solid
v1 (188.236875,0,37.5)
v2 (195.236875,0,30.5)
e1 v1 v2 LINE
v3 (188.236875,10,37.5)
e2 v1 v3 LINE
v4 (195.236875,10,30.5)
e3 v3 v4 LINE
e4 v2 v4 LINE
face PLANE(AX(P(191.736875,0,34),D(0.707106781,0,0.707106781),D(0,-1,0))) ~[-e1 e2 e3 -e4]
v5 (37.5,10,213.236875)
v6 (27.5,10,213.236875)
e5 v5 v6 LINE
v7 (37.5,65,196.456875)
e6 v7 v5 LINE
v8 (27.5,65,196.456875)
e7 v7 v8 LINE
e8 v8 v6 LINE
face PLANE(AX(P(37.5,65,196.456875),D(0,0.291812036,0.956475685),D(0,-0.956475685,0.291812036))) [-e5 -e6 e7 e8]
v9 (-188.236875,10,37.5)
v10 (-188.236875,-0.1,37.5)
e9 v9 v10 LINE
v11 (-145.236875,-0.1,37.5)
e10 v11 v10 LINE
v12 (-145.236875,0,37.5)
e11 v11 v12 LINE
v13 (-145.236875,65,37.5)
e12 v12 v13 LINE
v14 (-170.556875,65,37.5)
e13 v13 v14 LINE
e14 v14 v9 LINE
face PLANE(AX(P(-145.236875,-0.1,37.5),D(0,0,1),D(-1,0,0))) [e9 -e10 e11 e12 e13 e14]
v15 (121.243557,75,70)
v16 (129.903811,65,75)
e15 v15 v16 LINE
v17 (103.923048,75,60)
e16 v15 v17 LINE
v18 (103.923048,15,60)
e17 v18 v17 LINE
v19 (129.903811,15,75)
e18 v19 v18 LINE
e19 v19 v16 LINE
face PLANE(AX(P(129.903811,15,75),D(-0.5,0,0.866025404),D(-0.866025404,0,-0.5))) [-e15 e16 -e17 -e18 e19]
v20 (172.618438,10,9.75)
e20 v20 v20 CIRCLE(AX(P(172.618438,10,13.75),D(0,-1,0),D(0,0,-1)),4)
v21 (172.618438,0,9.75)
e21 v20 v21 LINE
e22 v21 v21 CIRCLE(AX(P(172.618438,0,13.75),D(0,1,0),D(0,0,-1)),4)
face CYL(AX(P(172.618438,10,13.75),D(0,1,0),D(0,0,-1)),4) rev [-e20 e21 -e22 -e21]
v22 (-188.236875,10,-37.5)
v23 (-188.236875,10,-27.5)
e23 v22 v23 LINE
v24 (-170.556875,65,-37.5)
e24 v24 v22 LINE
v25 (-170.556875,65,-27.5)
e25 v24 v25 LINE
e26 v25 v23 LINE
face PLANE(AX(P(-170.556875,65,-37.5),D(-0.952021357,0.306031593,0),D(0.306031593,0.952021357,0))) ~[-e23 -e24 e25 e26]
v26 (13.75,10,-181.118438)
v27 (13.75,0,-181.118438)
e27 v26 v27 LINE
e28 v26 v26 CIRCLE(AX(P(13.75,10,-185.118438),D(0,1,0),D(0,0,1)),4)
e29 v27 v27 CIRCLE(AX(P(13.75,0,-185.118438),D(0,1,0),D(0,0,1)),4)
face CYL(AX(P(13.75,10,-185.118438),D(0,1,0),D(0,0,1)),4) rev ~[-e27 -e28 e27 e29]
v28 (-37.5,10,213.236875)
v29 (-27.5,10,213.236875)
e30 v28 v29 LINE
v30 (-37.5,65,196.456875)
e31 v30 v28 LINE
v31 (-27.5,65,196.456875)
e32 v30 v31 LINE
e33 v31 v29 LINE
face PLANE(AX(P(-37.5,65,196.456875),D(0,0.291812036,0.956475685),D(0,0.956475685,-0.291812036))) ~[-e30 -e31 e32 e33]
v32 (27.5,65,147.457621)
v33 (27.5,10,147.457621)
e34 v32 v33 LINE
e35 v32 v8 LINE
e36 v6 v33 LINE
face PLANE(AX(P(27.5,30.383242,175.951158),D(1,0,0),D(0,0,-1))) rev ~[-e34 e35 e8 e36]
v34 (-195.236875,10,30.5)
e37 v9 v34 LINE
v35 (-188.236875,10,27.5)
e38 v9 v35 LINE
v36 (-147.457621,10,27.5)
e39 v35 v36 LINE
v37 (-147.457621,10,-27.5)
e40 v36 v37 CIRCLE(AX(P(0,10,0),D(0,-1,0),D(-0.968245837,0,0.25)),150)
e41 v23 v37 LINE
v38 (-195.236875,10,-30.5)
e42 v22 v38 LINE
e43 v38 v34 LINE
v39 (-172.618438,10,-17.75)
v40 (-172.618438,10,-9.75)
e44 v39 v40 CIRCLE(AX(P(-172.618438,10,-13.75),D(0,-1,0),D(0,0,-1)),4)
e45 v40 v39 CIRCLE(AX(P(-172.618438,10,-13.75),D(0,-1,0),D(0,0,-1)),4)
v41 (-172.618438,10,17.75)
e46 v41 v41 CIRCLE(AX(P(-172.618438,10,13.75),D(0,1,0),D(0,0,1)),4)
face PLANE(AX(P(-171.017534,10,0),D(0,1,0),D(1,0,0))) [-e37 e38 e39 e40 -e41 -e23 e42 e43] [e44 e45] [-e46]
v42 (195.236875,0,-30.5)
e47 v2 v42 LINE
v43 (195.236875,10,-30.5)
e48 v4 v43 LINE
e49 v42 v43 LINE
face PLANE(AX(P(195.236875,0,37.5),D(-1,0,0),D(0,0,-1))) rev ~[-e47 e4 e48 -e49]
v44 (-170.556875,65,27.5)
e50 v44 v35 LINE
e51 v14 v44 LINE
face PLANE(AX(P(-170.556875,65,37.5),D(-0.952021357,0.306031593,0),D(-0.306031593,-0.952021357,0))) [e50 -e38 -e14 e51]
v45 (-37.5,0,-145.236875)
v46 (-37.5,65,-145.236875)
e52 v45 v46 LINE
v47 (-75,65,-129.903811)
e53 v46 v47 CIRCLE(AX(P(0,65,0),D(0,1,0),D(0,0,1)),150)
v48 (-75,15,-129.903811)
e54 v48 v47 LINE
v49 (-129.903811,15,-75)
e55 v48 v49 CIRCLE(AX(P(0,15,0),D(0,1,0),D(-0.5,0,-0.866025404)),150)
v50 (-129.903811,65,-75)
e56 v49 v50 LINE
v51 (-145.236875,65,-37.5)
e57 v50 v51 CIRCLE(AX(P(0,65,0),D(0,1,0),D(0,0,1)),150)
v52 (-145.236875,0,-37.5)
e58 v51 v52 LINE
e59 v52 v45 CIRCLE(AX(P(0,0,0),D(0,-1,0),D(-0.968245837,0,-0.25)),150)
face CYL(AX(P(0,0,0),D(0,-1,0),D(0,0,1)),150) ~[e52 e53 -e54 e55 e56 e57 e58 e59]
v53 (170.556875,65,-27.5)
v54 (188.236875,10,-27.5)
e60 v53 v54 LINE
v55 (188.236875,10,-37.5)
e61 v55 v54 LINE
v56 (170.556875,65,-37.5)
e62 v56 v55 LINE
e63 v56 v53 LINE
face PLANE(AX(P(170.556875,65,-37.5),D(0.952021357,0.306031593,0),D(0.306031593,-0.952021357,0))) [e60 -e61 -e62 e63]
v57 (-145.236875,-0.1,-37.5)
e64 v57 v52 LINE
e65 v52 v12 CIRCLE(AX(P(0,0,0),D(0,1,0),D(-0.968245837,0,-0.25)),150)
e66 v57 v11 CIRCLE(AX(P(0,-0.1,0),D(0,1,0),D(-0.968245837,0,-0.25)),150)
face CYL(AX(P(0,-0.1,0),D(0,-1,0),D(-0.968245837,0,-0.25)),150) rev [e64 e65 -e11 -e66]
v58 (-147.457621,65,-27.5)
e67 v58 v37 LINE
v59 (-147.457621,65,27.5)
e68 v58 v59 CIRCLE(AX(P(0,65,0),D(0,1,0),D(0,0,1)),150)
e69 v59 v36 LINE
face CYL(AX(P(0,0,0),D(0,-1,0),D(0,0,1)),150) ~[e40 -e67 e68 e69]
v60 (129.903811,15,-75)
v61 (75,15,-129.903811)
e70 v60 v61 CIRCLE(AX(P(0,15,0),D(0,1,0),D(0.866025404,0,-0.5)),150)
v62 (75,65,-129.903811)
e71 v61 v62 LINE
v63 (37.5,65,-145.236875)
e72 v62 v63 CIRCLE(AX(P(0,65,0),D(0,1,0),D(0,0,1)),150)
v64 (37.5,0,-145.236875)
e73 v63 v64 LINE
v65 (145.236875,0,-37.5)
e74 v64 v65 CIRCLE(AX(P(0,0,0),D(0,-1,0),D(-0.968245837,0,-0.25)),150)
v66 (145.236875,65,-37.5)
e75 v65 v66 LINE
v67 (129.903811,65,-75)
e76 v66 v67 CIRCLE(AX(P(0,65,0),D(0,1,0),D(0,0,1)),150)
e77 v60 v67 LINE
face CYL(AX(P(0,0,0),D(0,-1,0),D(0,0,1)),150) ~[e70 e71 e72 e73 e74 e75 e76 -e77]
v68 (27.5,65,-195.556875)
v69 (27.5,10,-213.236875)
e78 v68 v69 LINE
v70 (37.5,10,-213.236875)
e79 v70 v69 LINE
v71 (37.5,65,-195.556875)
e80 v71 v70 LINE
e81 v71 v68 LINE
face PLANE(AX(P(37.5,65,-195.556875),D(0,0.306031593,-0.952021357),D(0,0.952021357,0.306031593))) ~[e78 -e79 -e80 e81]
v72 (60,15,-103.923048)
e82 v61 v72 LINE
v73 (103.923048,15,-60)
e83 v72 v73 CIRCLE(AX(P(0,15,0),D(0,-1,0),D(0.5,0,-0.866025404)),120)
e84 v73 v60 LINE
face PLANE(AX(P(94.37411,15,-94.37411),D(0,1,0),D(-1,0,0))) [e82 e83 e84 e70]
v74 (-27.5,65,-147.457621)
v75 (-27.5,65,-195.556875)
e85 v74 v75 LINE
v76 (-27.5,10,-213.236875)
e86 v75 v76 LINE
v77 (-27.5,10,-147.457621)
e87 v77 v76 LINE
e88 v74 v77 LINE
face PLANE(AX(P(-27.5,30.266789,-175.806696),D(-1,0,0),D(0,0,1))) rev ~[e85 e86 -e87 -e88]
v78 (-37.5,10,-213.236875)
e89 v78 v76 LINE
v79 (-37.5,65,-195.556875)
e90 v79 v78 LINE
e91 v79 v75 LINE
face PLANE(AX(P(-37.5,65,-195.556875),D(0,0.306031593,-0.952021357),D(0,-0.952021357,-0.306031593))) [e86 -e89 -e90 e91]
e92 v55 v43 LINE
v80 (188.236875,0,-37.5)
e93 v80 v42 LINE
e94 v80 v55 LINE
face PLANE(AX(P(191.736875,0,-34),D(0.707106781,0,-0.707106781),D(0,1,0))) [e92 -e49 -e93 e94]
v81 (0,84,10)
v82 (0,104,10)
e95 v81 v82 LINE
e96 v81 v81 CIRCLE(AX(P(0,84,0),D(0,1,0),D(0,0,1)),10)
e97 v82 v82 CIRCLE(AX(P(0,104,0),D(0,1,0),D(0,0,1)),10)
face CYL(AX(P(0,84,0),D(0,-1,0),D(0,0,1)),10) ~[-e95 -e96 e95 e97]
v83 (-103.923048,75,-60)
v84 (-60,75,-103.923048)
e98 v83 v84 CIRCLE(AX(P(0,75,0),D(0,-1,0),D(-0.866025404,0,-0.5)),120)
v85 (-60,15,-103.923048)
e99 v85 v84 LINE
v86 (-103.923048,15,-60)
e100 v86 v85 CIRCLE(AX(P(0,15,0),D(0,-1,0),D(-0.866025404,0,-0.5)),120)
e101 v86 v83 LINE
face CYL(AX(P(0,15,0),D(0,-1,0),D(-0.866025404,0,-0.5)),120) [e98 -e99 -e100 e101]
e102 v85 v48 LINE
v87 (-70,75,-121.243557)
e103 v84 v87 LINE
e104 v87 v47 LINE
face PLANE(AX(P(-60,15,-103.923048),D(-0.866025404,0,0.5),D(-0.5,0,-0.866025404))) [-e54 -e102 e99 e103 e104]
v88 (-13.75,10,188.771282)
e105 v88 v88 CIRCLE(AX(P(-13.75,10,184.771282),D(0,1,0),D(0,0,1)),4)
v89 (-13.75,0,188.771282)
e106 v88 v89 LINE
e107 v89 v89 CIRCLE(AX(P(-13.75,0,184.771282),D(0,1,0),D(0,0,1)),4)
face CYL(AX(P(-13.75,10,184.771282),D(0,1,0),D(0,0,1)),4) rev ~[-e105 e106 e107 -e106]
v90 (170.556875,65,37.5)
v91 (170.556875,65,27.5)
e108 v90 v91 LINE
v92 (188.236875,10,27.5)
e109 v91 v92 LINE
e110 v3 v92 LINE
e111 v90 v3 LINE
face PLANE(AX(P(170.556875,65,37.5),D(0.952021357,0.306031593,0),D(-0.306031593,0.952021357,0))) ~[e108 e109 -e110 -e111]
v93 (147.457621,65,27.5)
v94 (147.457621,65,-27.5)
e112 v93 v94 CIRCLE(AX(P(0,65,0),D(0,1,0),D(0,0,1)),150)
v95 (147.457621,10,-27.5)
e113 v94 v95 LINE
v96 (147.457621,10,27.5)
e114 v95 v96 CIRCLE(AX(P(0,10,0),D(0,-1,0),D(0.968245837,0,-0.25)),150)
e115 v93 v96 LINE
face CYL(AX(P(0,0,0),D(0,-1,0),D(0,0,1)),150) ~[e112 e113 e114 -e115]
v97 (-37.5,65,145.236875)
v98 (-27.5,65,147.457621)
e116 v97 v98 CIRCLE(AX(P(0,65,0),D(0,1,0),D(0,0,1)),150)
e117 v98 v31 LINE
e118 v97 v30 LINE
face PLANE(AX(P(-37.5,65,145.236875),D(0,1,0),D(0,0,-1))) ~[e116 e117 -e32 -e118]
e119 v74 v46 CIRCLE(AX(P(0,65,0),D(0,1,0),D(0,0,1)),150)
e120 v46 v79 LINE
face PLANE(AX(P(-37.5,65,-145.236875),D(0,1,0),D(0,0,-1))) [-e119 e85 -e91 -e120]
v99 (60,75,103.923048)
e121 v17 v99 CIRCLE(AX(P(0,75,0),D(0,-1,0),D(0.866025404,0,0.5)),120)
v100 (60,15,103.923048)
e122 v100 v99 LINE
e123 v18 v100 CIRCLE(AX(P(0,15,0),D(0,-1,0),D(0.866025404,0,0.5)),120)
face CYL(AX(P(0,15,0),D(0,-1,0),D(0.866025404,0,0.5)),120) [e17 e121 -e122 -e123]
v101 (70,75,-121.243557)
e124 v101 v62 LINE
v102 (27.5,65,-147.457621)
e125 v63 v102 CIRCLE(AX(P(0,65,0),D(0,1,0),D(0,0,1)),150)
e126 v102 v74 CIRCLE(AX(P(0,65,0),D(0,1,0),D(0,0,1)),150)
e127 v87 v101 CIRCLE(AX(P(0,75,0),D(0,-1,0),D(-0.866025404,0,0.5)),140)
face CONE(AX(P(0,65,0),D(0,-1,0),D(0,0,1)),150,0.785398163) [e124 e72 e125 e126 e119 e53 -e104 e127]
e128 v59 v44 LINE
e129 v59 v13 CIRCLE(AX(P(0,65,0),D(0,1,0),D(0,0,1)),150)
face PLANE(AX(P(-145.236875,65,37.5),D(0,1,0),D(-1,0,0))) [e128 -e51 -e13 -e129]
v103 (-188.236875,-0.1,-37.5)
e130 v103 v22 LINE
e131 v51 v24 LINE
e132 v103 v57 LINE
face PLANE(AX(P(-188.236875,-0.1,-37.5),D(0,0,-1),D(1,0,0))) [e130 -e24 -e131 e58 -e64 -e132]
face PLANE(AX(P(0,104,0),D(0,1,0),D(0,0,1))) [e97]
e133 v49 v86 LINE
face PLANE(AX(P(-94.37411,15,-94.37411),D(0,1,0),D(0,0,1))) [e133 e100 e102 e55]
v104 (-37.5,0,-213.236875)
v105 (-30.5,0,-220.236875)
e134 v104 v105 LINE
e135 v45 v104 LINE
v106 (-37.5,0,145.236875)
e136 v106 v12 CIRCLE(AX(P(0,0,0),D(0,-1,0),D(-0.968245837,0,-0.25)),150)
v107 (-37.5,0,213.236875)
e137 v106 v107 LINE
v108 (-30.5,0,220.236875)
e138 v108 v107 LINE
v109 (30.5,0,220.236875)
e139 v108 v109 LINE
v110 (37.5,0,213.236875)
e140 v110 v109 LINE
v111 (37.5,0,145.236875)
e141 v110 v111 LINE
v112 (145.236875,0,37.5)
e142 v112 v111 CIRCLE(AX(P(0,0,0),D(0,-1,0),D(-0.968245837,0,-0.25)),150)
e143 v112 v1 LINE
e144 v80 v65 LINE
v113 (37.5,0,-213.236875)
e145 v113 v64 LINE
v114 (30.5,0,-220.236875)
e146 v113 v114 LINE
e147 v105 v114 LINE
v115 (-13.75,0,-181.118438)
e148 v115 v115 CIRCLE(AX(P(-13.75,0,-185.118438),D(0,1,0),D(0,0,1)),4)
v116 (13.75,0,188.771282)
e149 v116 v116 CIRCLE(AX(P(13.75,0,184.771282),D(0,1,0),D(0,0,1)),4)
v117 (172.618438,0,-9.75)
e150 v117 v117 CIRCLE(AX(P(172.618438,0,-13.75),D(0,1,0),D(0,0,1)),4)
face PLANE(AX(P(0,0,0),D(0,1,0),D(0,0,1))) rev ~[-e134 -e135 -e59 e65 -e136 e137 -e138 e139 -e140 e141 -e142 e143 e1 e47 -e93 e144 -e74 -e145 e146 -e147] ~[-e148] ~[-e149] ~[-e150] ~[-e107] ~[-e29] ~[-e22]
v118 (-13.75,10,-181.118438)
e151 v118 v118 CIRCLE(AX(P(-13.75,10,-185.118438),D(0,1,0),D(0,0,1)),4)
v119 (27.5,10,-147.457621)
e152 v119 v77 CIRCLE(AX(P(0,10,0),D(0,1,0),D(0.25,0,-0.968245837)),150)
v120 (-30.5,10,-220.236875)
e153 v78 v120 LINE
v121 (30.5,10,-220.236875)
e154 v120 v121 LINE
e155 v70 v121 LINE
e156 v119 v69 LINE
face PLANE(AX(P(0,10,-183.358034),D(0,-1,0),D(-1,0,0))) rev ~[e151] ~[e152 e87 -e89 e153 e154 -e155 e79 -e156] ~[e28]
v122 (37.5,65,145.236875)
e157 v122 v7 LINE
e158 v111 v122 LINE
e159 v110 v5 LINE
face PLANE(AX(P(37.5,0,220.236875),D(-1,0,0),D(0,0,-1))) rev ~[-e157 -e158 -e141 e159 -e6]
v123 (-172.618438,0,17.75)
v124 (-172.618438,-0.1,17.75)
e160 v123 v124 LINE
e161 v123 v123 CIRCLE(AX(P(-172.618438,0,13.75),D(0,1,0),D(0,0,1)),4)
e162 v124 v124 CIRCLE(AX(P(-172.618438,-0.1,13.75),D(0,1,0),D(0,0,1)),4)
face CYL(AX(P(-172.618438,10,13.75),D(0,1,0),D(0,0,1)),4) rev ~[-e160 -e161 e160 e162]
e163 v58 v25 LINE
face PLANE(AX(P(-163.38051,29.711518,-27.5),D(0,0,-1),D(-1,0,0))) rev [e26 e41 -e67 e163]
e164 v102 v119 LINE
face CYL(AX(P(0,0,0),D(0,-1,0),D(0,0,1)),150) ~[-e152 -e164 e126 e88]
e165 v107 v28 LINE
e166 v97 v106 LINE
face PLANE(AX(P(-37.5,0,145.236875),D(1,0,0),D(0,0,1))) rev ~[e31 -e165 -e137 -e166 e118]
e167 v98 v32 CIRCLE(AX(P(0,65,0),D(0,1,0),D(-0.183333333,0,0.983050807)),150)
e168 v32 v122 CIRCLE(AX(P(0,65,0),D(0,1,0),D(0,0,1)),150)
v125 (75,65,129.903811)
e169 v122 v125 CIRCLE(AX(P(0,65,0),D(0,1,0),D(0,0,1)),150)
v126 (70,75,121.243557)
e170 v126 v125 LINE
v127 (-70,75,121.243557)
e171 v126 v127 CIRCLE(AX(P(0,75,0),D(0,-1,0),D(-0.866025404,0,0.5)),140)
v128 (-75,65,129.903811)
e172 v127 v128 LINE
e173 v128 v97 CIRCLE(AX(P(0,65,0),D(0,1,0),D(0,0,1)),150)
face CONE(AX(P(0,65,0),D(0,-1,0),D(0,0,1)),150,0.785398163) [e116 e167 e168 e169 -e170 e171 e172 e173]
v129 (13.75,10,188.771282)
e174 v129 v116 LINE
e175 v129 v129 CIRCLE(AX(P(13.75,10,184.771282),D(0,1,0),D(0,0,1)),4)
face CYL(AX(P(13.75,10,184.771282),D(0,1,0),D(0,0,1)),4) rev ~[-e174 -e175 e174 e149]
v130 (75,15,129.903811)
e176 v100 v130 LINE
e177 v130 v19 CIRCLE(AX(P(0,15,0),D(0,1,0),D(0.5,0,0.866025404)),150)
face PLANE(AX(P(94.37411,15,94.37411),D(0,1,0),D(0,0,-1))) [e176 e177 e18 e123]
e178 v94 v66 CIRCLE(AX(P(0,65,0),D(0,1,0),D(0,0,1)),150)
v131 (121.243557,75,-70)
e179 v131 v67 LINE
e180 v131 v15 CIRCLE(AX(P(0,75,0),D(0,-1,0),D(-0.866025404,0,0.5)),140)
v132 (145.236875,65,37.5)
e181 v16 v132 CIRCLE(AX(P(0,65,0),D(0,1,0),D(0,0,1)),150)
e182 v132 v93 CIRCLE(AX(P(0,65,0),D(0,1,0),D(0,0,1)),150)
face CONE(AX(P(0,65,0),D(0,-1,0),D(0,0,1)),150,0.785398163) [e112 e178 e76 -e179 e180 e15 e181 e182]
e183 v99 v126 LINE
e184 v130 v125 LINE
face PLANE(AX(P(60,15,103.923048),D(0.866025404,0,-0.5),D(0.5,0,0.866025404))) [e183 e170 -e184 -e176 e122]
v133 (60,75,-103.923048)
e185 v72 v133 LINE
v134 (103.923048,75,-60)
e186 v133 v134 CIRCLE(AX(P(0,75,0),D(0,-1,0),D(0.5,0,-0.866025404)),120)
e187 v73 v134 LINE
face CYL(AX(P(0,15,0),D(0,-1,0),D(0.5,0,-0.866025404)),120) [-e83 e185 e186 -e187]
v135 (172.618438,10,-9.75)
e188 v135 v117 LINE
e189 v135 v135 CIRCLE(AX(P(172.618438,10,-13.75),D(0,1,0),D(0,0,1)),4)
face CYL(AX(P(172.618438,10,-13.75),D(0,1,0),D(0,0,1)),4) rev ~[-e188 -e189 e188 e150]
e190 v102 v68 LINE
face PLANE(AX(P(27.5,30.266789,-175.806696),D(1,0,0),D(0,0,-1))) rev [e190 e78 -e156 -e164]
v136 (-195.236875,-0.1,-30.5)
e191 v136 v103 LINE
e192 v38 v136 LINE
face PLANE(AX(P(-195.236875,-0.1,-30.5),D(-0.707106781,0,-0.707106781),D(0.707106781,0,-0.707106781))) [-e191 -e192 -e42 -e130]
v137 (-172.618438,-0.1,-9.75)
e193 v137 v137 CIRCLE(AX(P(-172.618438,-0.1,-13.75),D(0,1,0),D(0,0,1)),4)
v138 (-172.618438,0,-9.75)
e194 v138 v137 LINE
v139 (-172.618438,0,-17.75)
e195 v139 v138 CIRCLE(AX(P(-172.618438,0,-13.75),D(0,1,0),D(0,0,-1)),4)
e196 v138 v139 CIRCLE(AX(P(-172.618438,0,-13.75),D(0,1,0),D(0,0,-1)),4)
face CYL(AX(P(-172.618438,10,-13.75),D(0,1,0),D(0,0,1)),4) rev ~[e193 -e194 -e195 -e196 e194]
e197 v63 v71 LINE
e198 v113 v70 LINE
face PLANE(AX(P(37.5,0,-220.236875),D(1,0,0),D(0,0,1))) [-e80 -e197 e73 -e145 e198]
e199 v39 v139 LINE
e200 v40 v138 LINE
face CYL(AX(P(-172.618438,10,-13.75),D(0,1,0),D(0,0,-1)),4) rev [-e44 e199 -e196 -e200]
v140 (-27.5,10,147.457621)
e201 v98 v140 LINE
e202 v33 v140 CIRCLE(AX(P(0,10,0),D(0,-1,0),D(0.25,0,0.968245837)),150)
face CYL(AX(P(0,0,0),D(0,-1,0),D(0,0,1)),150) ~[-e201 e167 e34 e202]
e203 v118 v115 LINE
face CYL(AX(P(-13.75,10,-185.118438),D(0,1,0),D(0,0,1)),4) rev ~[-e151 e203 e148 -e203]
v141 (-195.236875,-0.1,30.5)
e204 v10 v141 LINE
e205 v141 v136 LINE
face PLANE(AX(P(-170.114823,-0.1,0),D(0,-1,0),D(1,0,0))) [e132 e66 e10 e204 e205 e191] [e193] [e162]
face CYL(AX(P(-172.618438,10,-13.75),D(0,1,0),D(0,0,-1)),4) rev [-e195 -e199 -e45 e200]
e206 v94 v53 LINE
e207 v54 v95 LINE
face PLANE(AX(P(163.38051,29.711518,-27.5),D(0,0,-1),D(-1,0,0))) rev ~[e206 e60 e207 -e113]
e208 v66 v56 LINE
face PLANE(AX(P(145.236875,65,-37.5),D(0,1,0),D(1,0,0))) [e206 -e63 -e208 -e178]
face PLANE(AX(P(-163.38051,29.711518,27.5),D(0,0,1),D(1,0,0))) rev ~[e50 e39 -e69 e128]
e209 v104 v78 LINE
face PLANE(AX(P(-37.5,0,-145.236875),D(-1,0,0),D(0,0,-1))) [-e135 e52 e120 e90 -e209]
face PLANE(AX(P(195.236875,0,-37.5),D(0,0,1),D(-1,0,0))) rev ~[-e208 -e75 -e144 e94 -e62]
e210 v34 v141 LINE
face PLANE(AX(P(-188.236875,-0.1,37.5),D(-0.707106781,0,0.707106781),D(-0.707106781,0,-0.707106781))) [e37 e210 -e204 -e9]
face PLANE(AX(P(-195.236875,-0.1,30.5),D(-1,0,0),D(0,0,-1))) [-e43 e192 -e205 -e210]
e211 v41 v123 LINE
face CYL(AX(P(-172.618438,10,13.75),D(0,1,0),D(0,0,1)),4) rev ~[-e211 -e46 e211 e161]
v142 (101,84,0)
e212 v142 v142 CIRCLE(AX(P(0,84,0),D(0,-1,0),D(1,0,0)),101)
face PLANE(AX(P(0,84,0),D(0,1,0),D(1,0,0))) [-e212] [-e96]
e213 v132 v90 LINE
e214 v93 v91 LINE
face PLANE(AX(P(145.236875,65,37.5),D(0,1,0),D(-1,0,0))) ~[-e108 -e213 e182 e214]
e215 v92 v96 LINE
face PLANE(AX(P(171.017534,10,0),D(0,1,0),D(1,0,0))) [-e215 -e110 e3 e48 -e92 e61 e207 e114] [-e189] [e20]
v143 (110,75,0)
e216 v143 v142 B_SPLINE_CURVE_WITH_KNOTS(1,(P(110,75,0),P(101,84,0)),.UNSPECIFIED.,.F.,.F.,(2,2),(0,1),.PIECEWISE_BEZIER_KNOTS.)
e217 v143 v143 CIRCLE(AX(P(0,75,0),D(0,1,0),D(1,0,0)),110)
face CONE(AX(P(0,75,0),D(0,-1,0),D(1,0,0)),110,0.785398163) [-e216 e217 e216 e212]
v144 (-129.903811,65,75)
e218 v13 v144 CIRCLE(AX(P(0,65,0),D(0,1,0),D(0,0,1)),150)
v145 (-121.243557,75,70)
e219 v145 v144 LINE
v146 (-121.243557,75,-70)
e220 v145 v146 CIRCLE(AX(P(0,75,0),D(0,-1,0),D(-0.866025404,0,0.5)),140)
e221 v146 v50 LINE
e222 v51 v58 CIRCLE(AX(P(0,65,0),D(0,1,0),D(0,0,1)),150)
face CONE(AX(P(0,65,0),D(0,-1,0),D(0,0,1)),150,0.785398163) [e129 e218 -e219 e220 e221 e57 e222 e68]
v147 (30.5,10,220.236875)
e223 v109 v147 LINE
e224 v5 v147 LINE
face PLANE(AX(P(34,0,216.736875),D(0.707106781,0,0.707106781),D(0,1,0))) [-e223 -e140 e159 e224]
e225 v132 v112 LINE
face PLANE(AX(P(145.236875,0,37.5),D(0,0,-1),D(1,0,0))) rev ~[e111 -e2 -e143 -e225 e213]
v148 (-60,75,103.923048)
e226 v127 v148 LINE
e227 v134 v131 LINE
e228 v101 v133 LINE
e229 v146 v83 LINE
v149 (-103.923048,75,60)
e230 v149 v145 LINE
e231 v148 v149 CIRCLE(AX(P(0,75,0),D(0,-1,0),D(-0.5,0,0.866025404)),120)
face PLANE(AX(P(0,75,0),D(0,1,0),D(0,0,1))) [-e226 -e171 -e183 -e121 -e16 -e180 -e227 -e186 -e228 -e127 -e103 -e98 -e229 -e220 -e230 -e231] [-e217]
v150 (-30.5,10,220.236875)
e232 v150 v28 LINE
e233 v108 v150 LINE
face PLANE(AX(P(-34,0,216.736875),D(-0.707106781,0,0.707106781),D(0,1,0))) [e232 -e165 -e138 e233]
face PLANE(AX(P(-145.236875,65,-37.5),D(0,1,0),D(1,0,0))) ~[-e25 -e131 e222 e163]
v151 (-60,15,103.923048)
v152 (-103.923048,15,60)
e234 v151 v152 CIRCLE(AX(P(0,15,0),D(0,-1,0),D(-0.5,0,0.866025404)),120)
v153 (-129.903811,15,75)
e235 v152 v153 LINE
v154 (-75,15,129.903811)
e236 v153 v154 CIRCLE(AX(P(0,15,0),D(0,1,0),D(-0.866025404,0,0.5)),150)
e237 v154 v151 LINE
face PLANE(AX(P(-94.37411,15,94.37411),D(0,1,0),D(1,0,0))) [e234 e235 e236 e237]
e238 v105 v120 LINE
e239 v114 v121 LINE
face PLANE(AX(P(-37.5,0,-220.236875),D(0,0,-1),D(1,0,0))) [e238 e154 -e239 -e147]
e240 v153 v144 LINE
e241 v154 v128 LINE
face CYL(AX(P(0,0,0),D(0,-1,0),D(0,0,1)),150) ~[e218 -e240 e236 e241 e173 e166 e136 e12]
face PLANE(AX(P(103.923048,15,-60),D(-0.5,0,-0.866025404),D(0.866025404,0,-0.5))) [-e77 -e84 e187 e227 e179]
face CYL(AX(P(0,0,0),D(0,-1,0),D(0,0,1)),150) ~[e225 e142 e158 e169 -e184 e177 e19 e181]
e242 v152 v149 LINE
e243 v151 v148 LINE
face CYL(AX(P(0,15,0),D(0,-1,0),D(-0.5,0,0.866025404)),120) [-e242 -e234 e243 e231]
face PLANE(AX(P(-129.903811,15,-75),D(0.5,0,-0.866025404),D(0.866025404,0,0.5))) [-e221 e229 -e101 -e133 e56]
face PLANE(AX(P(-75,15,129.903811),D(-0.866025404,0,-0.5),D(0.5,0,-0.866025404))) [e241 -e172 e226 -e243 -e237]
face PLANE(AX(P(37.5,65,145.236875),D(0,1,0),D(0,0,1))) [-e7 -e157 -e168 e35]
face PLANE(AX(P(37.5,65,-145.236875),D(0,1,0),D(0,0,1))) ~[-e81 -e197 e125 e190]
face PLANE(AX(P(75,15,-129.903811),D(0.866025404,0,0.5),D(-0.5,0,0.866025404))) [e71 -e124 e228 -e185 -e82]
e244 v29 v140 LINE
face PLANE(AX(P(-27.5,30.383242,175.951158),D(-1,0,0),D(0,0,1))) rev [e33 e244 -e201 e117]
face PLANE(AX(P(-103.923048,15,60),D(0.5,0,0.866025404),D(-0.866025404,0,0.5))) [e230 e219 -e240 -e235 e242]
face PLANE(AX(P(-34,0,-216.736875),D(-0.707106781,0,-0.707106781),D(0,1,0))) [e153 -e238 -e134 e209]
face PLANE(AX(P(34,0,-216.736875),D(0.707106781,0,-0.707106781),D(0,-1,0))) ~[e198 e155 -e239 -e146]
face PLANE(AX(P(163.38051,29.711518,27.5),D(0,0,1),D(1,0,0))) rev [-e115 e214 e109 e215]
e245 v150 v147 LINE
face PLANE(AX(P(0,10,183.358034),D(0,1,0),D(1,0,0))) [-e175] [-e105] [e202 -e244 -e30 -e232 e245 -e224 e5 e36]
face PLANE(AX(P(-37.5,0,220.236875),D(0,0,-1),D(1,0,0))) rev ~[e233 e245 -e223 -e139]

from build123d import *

# Parameters (mm, degrees)
SKETCH1_R            = 150
BOSS_EXTRUDE1_DEPTH  = 75
CHAMFER1_SIZE        = 10
BOSS_EXTRUDE2_START  = -75
BOSS_EXTRUDE2_DEPTH  = 10
CHAMFER2_SIZE        = 7
BOSS_EXTRUDE3_DEPTH  = 10
SKETCH7_R            = 4
CUT_EXTRUDE1_DEPTH   = 255.641782801
BOSS_EXTRUDE4_START  = 0.1
BOSS_EXTRUDE4_DEPTH  = 0.1
BOSS_EXTRUDE8_START  = -75
BOSS_EXTRUDE8_DEPTH  = 10
CHAMFER3_SIZE        = 7
BOSS_EXTRUDE9_DEPTH  = 10
SKETCH16_R           = 4
CUT_EXTRUDE2_DEPTH   = 302.407894506
CHAMFER4_SIZE        = 7
BOSS_EXTRUDE10_DEPTH = 10
SKETCH19_R           = 4
CUT_EXTRUDE3_DEPTH   = 302.407894506
BOSS_EXTRUDE11_START = -75
BOSS_EXTRUDE11_DEPTH = 10
CHAMFER5_SIZE        = 7
BOSS_EXTRUDE12_DEPTH = 10
SKETCH22_R           = 4
CUT_EXTRUDE4_DEPTH   = 302.407894506
CUT_EXTRUDE5_START   = -60
CUT_EXTRUDE5_DEPTH   = 60
CIRPATTERN31_COUNT   = 4
SKETCH24_R           = 110
BOSS_EXTRUDE13_DEPTH = 9
BOSS_EXTRUDE13_TAPER = 45
SKETCH25_R           = 10
BOSS_EXTRUDE14_DEPTH = 20
SKETCH28_R           = 4
CUT_EXTRUDE6_DEPTH   = 309.962325973


with BuildPart() as part:
    # Sketch1 → Boss-Extrude1 (new body)
    with BuildSketch(Plane(origin=(0, 0, 0), x_dir=(1, 0, 0), z_dir=(0, 1, 0))):
        with Locations(Location((0, 0, 0), (0, 0, 270))):
            Circle(SKETCH1_R)
    extrude(amount=BOSS_EXTRUDE1_DEPTH)

    # Chamfer1
    chamfer1_edges = [part.edges().sort_by_distance(p)[0] for p in [
        (0, 75, -150),
    ]]
    chamfer(chamfer1_edges, length=CHAMFER1_SIZE)

    # Sketch2 → Boss-Extrude2 (add)
    with BuildSketch(Plane(origin=(0, 75, 0), x_dir=(1, 0, 0), z_dir=(0, 1, 0)).offset(BOSS_EXTRUDE2_START)):
        with BuildLine():
            Line((-145.236875483, 37.5), (-195.236875483, 37.5))
            Line((-195.236875483, 37.5), (-195.236875483, -37.5))
            Line((-195.236875483, -37.5), (-145.236875483, -37.5))
            ThreePointArc((-145.236875483, -37.5), (-150, 0), (-145.236875483, 37.5))
        make_face()
    extrude(amount=BOSS_EXTRUDE2_DEPTH)

    # Chamfer2
    chamfer2_edges = [part.edges().sort_by_distance(p)[0] for p in [
        (-195.236875483, 5, 37.5),
        (-195.236875483, 5, -37.5),
    ]]
    chamfer(chamfer2_edges, length=CHAMFER2_SIZE)

    # Sketch6 → Boss-Extrude3 (add)
    with BuildSketch(Plane.XY.offset(37.5)):
        Polygon((-145.236875483, 0), (-145.236875483, 65), (-170.556875483, 65), (-188.236875483, 10), (-188.236875483, 0), align=None)
    boss_extrude3 = extrude(amount=-BOSS_EXTRUDE3_DEPTH)

    # Sketch7 → Cut-Extrude1 (cut, through all)
    with BuildSketch(Plane(origin=(0, 10, 0), x_dir=(1, 0, 0), z_dir=(0, 1, 0))):
        with Locations(Location((-172.618437741, -13.75, 0), (0, 0, 270))):
            Circle(SKETCH7_R)
    cut_extrude1 = extrude(amount=-CUT_EXTRUDE1_DEPTH, mode=Mode.SUBTRACT)

    # Mirror2: Boss-Extrude3, Cut-Extrude1 across plane
    add(boss_extrude3.mirror(Plane.XY))
    add(cut_extrude1.mirror(Plane.XY), mode=Mode.SUBTRACT)

    # Sketch10 → Boss-Extrude4 (add)
    with BuildSketch(Plane.XZ.offset(BOSS_EXTRUDE4_START)):
        with BuildLine():
            Line((-145.236875483, 37.5), (-188.236875483, 37.5))
            Line((-188.236875483, 37.5), (-195.236875483, 30.5))
            Line((-195.236875483, 30.5), (-195.236875483, -30.5))
            Line((-195.236875483, -30.5), (-188.236875483, -37.5))
            Line((-188.236875483, -37.5), (-145.236875483, -37.5))
            ThreePointArc((-145.236875483, -37.5), (-150, 0), (-145.236875483, 37.5))
        make_face()
    extrude(amount=-BOSS_EXTRUDE4_DEPTH)

    # Sketch11 → Boss-Extrude8 (add)
    with BuildSketch(Plane(origin=(0, 75, 0), x_dir=(1, 0, 0), z_dir=(0, 1, 0)).offset(BOSS_EXTRUDE8_START)):
        with BuildLine():
            Line((37.5, 220.236875483), (37.5, 145.236875483))
            ThreePointArc((37.5, 145.236875483), (0, 150), (-37.5, 145.236875483))
            Line((-37.5, 145.236875483), (-37.5, 220.236875483))
            Line((-37.5, 220.236875483), (37.5, 220.236875483))
        make_face()
        with BuildLine():
            Line((37.5, -220.236875483), (37.5, -145.236875483))
            ThreePointArc((37.5, -145.236875483), (0, -150), (-37.5, -145.236875483))
            Line((-37.5, -145.236875483), (-37.5, -220.236875483))
            Line((-37.5, -220.236875483), (37.5, -220.236875483))
        make_face()
    extrude(amount=BOSS_EXTRUDE8_DEPTH)

    # Chamfer3
    chamfer3_edges = [part.edges().sort_by_distance(p)[0] for p in [
        (37.5, 5, -220.236875483),
        (-37.5, 5, -220.236875483),
    ]]
    chamfer(chamfer3_edges, length=CHAMFER3_SIZE)

    # Sketch14 → Boss-Extrude9 (add)
    with BuildSketch(Plane.ZY.offset(37.5)):
        Polygon((-145.236875483, 0), (-145.236875483, 65), (-195.556875483, 65), (-213.236875483, 10), (-213.236875483, 0), align=None)
    boss_extrude9 = extrude(amount=-BOSS_EXTRUDE9_DEPTH)

    # Mirror3: Boss-Extrude9 across plane
    add(boss_extrude9.mirror(Plane.ZY))

    # Sketch16 → Cut-Extrude2 (cut, through all)
    with BuildSketch(Plane(origin=(0, 10, 0), x_dir=(1, 0, 0), z_dir=(0, 1, 0))):
        with Locations(Location((-13.75, 185.118437741, 0), (0, 0, 270))):
            Circle(SKETCH16_R)
        with Locations(Location((13.75, 185.118437741, 0), (0, 0, 270))):
            Circle(SKETCH16_R)
    extrude(amount=-CUT_EXTRUDE2_DEPTH, mode=Mode.SUBTRACT)

    # Chamfer4
    chamfer4_edges = [part.edges().sort_by_distance(p)[0] for p in [
        (-37.5, 5, 220.236875483),
        (37.5, 5, 220.236875483),
    ]]
    chamfer(chamfer4_edges, length=CHAMFER4_SIZE)

    # Sketch18 → Boss-Extrude10 (add)
    with BuildSketch(Plane(origin=(37.5, 0, 0), x_dir=(0, 0, -1), z_dir=(1, 0, 0))):
        Polygon((-145.236875483, 0), (-145.236875483, 65), (-196.456875483, 65), (-213.236875483, 10), (-213.236875483, 0), align=None)
    boss_extrude10 = extrude(amount=-BOSS_EXTRUDE10_DEPTH)

    # Sketch19 → Cut-Extrude3 (cut, through all)
    with BuildSketch(Plane(origin=(0, 10, 0), x_dir=(1, 0, 0), z_dir=(0, 1, 0))):
        with Locations(Location((13.75, -184.771281751, 0), (0, 0, 270))):
            Circle(SKETCH19_R)
        with Locations(Location((-13.75, -184.771281751, 0), (0, 0, 270))):
            Circle(SKETCH19_R)
    extrude(amount=-CUT_EXTRUDE3_DEPTH, mode=Mode.SUBTRACT)

    # Mirror4: Boss-Extrude10 across plane
    add(boss_extrude10.mirror(Plane(origin=(0, 0, 0), x_dir=(0, 0, 1), z_dir=(1, 0, 0))))

    # Sketch20 → Boss-Extrude11 (add)
    with BuildSketch(Plane(origin=(0, 75, 0), x_dir=(1, 0, 0), z_dir=(0, 1, 0)).offset(BOSS_EXTRUDE11_START)):
        with BuildLine():
            Line((195.236875483, 37.5), (145.236875483, 37.5))
            ThreePointArc((145.236875483, 37.5), (150, 0), (145.236875483, -37.5))
            Line((145.236875483, -37.5), (195.236875483, -37.5))
            Line((195.236875483, -37.5), (195.236875483, 37.5))
        make_face()
    extrude(amount=BOSS_EXTRUDE11_DEPTH)

    # Chamfer5
    chamfer5_edges = [part.edges().sort_by_distance(p)[0] for p in [
        (195.236875483, 5, 37.5),
        (195.236875483, 5, -37.5),
    ]]
    chamfer(chamfer5_edges, length=CHAMFER5_SIZE)

    # Sketch21 → Boss-Extrude12 (add)
    with BuildSketch(Plane(origin=(0, 0, -37.5), x_dir=(-1, 0, 0), z_dir=(0, 0, -1))):
        Polygon((-145.236875483, 0), (-145.236875483, 65), (-170.556875483, 65), (-188.236875483, 10), (-188.236875483, 0), align=None)
    boss_extrude12 = extrude(amount=-BOSS_EXTRUDE12_DEPTH)

    # Sketch22 → Cut-Extrude4 (cut, through all)
    with BuildSketch(Plane(origin=(0, 10, 0), x_dir=(1, 0, 0), z_dir=(0, 1, 0))):
        with Locations(Location((172.618437741, 13.75, 0), (0, 0, 270))):
            Circle(SKETCH22_R)
    cut_extrude4 = extrude(amount=-CUT_EXTRUDE4_DEPTH, mode=Mode.SUBTRACT)

    # Mirror5: Boss-Extrude12, Cut-Extrude4 across plane
    add(boss_extrude12.mirror(Plane(origin=(0, 0, 0), x_dir=(1, 0, 0), z_dir=(0, 0, -1))))
    add(cut_extrude4.mirror(Plane(origin=(0, 0, 0), x_dir=(1, 0, 0), z_dir=(0, 0, -1))), mode=Mode.SUBTRACT)

    # Sketch23 → Cut-Extrude5 (cut)
    with BuildSketch(Plane(origin=(0, 75, 0), x_dir=(1, 0, 0), z_dir=(0, 1, 0)).offset(CUT_EXTRUDE5_START)):
        with BuildLine():
            Line((-103.923048454, -60), (-129.903810568, -75))
            ThreePointArc((-129.903810568, -75), (-106.066017178, -106.066017178), (-75, -129.903810568))
            Line((-75, -129.903810568), (-60, -103.923048454))
            ThreePointArc((-60, -103.923048454), (-84.852813742, -84.852813742), (-103.923048454, -60))
        make_face()
    cut_extrude5 = extrude(amount=CUT_EXTRUDE5_DEPTH, mode=Mode.SUBTRACT)

    # CirPattern31: Cut-Extrude5 ×4 about axis
    cirpattern31_axis = Axis((0, 75, 0), (0, 1, 0))
    for i in range(1, CIRPATTERN31_COUNT):
        add(cut_extrude5.rotate(cirpattern31_axis, i * 360 / CIRPATTERN31_COUNT), mode=Mode.SUBTRACT)

    # Sketch24 → Boss-Extrude13 (add)
    with BuildSketch(Plane(origin=(0, 75, 0), x_dir=(1, 0, 0), z_dir=(0, 1, 0))):
        Circle(SKETCH24_R)
    extrude(amount=BOSS_EXTRUDE13_DEPTH, taper=BOSS_EXTRUDE13_TAPER)

    # Sketch25 → Boss-Extrude14 (add)
    with BuildSketch(Plane(origin=(0, 84, 0), x_dir=(1, 0, 0), z_dir=(0, 1, 0))):
        with Locations(Location((0, 0, 0), (0, 0, 270))):
            Circle(SKETCH25_R)
    extrude(amount=BOSS_EXTRUDE14_DEPTH)

    # Sketch28 → Cut-Extrude6 (cut, through all)
    with BuildSketch(Plane(origin=(0, 10, 0), x_dir=(1, 0, 0), z_dir=(0, 1, 0))):
        with Locations(Location((-172.618437741, 13.75, 0), (0, 0, 270))):
            Circle(SKETCH28_R)
        with Locations(Location((-172.618437741, -13.75, 0), (0, 0, 270))):
            Circle(SKETCH28_R)
    extrude(amount=-CUT_EXTRUDE6_DEPTH, mode=Mode.SUBTRACT)


solid = part.part
